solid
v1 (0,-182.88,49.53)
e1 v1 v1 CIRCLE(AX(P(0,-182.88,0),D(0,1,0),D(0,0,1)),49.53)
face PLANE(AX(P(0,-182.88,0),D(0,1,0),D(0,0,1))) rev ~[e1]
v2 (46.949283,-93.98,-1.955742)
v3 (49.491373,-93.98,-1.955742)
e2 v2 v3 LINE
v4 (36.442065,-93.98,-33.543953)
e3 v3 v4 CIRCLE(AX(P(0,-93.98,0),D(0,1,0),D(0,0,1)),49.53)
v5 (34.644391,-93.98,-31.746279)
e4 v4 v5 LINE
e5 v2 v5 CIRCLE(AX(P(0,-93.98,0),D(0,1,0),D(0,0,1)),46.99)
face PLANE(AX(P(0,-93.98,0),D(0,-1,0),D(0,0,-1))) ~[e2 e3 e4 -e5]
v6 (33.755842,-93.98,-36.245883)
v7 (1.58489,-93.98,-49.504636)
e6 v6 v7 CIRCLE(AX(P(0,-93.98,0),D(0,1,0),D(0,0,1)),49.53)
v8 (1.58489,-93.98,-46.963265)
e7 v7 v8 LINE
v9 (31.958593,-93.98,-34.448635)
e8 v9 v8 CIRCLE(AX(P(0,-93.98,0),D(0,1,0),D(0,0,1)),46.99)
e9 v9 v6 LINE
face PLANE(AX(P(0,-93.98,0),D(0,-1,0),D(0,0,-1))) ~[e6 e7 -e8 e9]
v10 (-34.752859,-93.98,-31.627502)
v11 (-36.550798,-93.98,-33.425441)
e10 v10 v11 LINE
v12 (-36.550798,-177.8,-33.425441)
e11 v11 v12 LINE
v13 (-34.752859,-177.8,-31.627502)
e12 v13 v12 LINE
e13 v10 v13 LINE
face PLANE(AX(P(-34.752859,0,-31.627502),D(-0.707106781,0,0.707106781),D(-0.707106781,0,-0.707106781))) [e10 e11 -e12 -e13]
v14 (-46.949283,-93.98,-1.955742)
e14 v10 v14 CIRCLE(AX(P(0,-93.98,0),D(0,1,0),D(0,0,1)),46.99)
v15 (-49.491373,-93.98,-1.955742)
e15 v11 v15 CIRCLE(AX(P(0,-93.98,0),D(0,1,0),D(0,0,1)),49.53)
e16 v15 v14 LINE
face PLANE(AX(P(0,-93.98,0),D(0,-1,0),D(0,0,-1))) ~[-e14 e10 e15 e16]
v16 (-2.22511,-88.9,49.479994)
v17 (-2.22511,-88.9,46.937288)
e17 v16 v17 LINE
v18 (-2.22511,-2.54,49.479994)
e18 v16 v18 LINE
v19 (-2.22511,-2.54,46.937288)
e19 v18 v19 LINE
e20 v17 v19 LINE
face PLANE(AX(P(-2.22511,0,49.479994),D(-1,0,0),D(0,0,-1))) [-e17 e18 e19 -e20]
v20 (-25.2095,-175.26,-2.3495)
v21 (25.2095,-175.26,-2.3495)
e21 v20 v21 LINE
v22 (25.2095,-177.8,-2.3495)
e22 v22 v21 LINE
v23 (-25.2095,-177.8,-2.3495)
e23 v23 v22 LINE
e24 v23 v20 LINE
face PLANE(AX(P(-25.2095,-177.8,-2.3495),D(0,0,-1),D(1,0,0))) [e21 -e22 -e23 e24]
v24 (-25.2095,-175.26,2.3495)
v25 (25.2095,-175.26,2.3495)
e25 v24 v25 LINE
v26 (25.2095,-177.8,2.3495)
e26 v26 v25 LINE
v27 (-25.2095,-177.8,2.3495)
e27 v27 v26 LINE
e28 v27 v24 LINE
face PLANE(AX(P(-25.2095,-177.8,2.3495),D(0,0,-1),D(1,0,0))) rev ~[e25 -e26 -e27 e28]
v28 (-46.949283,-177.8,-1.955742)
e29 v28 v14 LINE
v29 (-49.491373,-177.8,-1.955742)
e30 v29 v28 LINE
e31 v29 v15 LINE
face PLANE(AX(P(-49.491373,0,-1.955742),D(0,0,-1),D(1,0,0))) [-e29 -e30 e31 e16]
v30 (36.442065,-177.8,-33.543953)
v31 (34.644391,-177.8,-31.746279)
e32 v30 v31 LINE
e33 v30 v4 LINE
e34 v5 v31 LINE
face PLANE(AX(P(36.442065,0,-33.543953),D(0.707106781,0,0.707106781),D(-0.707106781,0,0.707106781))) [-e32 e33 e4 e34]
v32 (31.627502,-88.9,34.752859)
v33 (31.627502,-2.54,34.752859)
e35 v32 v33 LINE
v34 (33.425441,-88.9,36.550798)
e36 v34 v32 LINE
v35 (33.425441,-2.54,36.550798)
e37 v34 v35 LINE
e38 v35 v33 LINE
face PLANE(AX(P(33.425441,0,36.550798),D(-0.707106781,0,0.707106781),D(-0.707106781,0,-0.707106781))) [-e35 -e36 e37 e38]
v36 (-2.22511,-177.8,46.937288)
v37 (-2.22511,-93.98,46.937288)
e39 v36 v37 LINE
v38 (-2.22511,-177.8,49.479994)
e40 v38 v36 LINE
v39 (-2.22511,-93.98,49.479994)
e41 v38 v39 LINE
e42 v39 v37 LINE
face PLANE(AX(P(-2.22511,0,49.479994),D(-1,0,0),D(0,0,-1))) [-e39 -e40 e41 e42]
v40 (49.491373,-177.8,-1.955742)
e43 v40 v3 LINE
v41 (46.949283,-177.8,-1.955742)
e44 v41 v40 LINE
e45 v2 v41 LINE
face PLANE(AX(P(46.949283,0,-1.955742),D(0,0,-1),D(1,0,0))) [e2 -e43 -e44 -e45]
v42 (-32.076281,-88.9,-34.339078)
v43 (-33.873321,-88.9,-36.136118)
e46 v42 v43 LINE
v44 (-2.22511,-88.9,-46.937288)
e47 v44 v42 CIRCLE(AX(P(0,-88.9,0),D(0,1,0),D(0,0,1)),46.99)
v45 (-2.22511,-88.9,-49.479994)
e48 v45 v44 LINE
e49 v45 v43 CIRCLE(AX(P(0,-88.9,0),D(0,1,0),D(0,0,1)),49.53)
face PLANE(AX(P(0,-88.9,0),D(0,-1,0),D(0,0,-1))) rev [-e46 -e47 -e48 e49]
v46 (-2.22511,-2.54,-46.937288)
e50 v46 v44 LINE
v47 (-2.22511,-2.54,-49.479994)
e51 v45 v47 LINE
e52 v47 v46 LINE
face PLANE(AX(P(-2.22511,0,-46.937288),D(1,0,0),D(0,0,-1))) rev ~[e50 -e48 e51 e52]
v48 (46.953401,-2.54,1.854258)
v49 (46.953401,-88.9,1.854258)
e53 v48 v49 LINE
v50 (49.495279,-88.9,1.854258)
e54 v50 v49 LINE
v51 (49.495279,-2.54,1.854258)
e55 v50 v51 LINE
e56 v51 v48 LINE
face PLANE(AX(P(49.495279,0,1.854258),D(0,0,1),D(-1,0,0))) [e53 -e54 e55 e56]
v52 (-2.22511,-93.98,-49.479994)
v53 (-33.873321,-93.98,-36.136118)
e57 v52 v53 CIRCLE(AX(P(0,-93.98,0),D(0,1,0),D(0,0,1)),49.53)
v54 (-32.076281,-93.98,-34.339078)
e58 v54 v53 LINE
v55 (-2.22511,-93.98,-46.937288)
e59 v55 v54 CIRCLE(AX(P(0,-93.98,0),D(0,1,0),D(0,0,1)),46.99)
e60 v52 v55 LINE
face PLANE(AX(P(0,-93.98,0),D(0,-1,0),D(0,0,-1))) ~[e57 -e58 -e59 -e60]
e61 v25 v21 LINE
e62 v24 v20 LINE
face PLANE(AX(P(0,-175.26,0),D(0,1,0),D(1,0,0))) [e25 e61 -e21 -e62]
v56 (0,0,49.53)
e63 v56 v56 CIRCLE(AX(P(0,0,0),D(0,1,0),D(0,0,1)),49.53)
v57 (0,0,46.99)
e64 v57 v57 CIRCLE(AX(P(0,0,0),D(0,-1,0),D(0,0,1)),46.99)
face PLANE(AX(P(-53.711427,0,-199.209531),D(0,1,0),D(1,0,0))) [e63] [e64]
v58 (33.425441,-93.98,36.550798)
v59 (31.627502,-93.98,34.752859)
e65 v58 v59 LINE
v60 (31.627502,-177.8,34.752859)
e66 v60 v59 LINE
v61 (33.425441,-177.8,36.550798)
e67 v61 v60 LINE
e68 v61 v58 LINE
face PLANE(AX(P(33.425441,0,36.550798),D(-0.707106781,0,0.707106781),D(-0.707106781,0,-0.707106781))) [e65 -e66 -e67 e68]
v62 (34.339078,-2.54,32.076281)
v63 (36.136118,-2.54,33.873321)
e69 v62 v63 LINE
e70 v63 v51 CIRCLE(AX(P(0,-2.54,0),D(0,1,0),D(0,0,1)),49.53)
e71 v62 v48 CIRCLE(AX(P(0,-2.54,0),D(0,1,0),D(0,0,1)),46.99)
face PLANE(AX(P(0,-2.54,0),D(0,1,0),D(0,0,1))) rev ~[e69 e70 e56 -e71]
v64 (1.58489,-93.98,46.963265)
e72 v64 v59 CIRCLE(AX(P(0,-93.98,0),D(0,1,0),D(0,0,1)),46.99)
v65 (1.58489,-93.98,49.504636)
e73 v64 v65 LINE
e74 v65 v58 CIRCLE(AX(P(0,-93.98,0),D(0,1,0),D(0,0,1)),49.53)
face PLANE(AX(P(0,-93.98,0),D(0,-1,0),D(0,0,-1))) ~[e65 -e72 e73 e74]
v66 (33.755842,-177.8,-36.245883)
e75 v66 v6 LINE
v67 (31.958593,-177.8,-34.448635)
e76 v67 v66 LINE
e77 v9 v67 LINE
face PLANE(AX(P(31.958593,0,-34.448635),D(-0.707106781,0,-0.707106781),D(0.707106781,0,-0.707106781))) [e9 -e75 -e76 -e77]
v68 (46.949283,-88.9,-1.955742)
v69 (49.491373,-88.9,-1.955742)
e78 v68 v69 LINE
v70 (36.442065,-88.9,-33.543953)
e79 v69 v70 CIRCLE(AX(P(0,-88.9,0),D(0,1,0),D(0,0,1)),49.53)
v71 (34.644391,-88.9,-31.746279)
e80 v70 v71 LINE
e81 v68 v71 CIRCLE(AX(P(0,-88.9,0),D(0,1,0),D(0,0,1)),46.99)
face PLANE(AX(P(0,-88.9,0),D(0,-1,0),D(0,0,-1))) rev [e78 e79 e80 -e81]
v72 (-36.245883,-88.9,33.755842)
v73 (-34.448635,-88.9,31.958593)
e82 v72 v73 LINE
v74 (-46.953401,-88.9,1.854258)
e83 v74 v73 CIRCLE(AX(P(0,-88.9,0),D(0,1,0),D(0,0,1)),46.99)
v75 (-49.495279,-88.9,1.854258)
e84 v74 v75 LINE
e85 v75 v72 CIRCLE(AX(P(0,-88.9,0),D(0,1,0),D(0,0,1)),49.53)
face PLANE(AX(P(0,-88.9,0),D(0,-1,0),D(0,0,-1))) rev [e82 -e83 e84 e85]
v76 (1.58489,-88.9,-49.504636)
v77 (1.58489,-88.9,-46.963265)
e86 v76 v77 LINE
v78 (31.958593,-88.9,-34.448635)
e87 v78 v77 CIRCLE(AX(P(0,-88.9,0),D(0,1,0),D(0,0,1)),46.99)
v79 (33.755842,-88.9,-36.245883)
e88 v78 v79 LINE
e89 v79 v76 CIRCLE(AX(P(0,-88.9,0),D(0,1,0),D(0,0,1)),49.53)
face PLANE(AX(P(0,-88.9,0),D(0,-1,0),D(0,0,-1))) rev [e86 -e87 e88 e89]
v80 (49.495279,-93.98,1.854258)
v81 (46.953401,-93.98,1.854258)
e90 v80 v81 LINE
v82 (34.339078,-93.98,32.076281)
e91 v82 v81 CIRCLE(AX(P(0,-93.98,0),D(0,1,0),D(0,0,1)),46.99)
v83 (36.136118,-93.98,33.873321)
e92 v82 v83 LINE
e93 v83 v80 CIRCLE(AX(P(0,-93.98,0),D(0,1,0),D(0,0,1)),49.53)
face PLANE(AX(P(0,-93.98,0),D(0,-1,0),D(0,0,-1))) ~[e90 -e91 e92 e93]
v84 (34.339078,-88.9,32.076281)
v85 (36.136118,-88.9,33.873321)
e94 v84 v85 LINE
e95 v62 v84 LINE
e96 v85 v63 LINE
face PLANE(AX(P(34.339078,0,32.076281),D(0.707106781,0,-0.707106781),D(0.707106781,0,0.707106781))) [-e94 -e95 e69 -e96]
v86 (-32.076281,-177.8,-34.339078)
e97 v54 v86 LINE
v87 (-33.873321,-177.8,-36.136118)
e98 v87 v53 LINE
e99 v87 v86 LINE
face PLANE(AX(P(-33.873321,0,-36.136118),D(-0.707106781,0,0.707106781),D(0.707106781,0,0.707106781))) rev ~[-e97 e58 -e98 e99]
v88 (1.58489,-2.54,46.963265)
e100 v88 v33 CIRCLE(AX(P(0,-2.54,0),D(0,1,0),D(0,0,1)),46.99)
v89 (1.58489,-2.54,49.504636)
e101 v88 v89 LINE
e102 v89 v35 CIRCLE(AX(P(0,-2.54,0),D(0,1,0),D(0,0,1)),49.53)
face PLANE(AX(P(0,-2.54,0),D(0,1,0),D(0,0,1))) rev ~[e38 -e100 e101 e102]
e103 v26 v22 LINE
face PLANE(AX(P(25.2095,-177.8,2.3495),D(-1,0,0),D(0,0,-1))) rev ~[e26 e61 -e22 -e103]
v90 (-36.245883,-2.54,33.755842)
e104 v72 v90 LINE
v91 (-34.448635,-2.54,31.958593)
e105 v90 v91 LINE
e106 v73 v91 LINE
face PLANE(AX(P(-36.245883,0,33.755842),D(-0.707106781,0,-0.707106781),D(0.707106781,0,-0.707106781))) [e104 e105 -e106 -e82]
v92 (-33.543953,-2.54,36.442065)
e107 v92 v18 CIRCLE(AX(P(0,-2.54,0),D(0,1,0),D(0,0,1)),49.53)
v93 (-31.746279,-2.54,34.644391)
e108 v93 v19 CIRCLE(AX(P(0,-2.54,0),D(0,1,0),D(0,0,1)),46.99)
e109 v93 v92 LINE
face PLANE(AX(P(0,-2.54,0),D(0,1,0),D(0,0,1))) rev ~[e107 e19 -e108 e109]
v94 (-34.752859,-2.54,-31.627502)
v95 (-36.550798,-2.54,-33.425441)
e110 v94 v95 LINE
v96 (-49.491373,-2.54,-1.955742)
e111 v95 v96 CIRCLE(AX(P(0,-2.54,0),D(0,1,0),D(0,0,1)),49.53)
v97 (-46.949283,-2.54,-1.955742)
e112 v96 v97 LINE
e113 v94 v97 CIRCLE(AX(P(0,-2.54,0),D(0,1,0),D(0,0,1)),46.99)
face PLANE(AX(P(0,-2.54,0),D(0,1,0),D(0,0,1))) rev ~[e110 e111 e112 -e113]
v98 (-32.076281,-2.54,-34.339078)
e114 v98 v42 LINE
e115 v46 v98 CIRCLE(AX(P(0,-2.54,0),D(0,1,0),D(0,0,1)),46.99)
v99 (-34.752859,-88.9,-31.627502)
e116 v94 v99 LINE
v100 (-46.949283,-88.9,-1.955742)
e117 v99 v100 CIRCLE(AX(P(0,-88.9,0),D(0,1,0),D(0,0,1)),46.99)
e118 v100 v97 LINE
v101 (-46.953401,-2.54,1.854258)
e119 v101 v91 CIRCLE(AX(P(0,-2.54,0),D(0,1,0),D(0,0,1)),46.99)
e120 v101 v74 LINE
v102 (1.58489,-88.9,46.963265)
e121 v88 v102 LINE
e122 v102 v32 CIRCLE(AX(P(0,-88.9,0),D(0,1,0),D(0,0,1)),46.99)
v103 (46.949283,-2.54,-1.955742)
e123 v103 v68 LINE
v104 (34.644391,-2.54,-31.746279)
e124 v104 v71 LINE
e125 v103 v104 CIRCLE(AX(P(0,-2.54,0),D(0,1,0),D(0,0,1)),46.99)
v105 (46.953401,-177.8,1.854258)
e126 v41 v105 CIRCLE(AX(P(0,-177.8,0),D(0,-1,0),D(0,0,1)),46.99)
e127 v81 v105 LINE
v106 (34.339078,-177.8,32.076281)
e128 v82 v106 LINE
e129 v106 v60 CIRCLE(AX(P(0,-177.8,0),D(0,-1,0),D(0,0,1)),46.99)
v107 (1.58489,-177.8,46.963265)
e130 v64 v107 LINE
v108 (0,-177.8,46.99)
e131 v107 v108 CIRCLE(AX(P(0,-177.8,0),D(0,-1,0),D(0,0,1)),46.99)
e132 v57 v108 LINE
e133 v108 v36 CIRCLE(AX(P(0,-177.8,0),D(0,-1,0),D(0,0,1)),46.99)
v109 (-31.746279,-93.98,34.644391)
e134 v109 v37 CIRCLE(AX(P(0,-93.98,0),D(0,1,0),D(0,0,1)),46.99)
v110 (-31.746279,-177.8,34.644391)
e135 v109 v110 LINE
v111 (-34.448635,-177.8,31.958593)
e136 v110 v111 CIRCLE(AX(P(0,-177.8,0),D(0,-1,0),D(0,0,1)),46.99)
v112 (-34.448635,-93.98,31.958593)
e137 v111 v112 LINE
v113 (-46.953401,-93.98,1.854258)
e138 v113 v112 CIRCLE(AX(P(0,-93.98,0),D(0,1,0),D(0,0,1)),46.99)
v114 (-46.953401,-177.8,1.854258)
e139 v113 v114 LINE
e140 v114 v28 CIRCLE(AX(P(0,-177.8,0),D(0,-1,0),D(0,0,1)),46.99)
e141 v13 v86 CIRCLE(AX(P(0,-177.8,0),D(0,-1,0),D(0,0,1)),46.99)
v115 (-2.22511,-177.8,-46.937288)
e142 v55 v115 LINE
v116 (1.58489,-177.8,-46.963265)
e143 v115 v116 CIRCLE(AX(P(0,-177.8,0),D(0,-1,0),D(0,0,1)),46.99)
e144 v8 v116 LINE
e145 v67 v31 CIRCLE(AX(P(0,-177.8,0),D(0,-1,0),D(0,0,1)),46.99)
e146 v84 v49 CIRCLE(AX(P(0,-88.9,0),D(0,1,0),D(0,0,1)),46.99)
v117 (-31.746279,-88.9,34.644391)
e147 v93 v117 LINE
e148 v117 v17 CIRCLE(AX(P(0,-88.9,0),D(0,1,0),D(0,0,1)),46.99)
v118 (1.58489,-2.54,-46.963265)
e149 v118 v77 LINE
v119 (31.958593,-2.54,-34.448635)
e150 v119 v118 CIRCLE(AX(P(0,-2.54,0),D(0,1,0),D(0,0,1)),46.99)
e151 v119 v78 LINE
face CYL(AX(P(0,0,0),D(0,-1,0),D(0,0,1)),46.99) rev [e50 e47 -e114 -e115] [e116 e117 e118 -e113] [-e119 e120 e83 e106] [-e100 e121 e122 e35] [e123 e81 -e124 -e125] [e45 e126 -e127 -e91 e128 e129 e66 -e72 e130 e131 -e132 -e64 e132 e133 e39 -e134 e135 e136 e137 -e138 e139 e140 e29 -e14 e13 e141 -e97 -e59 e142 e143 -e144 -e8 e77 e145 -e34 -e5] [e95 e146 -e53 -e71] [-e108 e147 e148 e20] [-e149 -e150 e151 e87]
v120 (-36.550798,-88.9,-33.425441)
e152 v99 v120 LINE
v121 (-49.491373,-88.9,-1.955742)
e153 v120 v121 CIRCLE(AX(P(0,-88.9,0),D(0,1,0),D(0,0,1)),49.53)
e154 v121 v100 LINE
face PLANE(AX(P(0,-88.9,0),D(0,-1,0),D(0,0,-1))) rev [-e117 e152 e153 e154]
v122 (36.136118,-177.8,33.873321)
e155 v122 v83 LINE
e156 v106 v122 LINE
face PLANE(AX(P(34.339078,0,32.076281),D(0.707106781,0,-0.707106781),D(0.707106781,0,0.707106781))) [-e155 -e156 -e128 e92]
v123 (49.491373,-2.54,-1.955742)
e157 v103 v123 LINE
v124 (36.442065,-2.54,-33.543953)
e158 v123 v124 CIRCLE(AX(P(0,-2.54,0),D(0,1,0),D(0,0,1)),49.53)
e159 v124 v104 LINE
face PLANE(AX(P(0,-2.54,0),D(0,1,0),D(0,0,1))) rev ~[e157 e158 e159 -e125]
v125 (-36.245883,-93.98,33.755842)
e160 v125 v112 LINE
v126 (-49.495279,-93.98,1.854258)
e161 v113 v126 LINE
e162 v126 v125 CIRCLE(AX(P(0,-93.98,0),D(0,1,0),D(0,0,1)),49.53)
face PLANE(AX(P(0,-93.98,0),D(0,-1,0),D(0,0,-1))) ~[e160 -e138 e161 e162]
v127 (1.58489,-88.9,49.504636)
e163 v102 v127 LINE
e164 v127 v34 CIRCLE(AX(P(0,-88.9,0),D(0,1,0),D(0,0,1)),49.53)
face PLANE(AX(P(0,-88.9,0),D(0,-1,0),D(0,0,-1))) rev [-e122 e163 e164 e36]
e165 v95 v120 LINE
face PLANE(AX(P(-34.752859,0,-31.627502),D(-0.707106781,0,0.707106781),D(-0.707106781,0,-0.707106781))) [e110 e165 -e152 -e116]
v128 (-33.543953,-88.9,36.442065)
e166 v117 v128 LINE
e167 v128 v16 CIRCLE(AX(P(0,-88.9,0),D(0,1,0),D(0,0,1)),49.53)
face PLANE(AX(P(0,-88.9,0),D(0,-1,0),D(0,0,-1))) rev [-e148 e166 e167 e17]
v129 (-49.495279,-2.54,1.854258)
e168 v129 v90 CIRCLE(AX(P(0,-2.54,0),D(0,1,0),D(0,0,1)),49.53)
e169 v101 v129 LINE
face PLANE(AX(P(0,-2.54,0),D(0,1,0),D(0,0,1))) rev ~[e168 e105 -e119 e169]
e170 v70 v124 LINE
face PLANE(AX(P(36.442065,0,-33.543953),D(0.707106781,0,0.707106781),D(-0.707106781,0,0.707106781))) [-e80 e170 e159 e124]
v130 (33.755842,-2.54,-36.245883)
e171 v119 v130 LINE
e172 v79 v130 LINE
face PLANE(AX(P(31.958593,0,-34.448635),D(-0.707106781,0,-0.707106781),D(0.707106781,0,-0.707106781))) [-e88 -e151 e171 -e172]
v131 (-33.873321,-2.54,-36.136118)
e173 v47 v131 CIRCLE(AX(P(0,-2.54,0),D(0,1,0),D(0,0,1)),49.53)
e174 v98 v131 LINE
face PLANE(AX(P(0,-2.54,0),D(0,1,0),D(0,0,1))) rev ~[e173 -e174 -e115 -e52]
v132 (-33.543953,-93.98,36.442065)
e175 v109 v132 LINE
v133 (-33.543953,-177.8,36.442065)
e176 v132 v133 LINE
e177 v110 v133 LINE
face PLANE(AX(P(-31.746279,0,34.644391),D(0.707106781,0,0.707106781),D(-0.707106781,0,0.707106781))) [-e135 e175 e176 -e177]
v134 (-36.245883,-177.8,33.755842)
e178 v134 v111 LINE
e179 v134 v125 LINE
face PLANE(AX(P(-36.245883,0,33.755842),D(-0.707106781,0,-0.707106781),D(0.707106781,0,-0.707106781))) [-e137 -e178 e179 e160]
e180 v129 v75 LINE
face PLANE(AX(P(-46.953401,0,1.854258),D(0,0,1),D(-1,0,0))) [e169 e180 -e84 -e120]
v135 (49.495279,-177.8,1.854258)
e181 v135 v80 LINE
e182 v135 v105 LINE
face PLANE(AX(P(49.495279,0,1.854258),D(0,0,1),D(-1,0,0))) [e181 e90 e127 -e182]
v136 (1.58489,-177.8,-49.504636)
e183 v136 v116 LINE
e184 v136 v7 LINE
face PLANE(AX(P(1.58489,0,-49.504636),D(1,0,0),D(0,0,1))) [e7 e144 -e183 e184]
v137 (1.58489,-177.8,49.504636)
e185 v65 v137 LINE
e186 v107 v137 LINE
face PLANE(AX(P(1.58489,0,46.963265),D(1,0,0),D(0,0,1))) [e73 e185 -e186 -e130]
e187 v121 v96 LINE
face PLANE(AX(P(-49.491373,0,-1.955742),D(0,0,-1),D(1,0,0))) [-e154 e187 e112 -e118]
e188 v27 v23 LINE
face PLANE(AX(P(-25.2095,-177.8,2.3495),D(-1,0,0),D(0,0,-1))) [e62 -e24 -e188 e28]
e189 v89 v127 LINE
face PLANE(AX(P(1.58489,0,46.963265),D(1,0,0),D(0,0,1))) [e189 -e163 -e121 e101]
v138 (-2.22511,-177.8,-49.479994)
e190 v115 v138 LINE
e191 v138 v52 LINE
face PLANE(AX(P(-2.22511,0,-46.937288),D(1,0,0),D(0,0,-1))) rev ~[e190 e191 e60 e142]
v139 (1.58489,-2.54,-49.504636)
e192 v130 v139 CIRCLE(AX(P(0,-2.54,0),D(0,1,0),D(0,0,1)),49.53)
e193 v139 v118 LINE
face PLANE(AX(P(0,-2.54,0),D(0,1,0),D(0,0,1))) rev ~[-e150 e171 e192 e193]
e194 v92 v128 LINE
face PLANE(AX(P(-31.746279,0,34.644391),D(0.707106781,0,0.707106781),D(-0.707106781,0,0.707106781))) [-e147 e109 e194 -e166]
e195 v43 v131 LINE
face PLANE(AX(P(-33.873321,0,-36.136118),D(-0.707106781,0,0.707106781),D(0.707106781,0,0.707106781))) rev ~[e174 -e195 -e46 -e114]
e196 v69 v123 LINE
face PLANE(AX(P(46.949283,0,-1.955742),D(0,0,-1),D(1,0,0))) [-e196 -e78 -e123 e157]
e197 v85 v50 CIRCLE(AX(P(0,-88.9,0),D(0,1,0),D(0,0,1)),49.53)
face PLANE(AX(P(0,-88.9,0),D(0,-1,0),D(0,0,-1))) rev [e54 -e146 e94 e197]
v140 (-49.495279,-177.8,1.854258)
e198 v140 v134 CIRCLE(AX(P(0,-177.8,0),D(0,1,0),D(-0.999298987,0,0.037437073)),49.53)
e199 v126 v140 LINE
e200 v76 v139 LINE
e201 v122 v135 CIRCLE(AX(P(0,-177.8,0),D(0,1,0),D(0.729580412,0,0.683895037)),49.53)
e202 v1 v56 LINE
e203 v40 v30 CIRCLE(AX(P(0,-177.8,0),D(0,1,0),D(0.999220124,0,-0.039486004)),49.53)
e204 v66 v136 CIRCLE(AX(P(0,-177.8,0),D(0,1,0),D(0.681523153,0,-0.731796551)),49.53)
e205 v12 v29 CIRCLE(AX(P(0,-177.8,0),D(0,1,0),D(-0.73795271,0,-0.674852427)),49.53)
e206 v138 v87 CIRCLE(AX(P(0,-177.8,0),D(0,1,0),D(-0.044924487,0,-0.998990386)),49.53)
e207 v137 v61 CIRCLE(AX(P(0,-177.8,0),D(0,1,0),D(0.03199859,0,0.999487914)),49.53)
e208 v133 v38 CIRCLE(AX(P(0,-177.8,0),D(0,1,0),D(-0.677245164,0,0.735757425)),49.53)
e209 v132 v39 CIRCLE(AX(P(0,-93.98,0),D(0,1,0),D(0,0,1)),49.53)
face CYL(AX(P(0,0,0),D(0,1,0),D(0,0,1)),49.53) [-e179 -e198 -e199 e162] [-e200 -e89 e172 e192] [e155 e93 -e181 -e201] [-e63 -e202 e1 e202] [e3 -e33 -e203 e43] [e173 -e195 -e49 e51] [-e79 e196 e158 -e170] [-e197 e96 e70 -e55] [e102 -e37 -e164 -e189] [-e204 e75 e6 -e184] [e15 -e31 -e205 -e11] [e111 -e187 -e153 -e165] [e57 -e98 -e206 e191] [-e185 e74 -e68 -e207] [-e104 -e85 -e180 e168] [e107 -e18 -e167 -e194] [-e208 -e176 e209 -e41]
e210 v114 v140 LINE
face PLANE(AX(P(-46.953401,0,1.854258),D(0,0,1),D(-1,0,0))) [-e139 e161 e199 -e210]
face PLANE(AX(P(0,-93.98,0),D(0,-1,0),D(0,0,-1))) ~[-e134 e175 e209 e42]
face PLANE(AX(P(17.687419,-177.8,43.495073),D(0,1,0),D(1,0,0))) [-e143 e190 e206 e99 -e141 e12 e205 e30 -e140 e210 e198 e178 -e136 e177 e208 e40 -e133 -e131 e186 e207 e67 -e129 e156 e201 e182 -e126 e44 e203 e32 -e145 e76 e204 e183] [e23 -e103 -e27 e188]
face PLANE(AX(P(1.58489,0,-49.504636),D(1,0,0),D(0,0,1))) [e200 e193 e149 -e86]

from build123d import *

# Parameters (mm, degrees)
SKETCH1_R               = 49.53
SKETCH1_R_2             = 46.99
BOSS_EXTRUDE1_DEPTH     = 182.88
CUT_EXTRUDE1_DEPTH      = 177.8
SKETCH3_R               = 49.53
SKETCH3_R_2             = 46.99
BOSS_EXTRUDE2_DEPTH     = 2.54
SKETCH4_R               = 49.53
SKETCH4_R_2             = 46.99
BOSS_EXTRUDE3_DEPTH     = 2.54
BOSS_EXTRUDE4_START     = -5.08
SKETCH5_R               = 49.53
BOSS_EXTRUDE4_DEPTH     = 5.08
SKETCH6_W               = 50.419
SKETCH6_H               = 4.699
BOSS_EXTRUDE5_DEPTH     = 2.54
SKETCH7_R               = 0.8255
BOSS_EXTRUDE6_DEPTH     = 2.54
CIRPATTERN2_COUNT       = 8
CUT_EXTRUDE2_DEPTH      = 199.209531052
CUT_EXTRUDE2_DEPTH_BACK = 199.209531052
SKETCH8_W               = 111.115562831
SKETCH8_H               = 193.581618433


with BuildPart() as part:
    # Sketch1 → Boss-Extrude1 (new, symmetric)
    with BuildSketch(Plane(origin=(0, 0, 0), x_dir=(1, 0, 0), z_dir=(0, 1, 0))):
        with Locations(Location((0, 0, 0), (0, 0, 270))):
            Circle(SKETCH1_R)
        with Locations(Location((0, 0, 0), (0, 0, 270))):
            Circle(SKETCH1_R_2, mode=Mode.SUBTRACT)
    extrude(amount=BOSS_EXTRUDE1_DEPTH, both=True)

    # Sketch2 → Cut-Extrude1 (cut, symmetric)
    with BuildSketch(Plane(origin=(0, 0, 0), x_dir=(1, 0, 0), z_dir=(0, 1, 0))):
        with BuildLine():
            Line((34.339077963, -32.07628134), (36.13611782, -33.873321197))
            ThreePointArc((36.13611782, -33.873321197), (45.710930003, -19.071753413), (49.49527883, -1.854258207))
            Line((49.49527883, -1.854258207), (46.953400585, -1.854258207))
            ThreePointArc((46.953400585, -1.854258207), (43.364264524, -18.099742051), (34.339077963, -32.07628134))
        make_face()
        with BuildLine():
            ThreePointArc((1.584890151, -49.504636381), (18.664975227, -45.878530924), (33.425440685, -36.550797734))
            Line((33.425440685, -36.550797734), (31.627502039, -34.752859088))
            ThreePointArc((31.627502039, -34.752859088), (17.692915235, -43.531837205), (1.584890151, -46.963264614))
            Line((1.584890151, -46.963264614), (1.584890151, -49.504636381))
        make_face()
        with BuildLine():
            ThreePointArc((-33.543952964, -36.442065248), (-19.03558139, -45.726005086), (-2.225109849, -49.479993797))
            Line((-2.225109849, -49.479993797), (-2.225109849, -46.937287801))
            ThreePointArc((-2.225109849, -46.937287801), (-18.063572268, -43.379343666), (-31.746279167, -34.644391451))
            Line((-31.746279167, -34.644391451), (-33.543952964, -36.442065248))
        make_face()
        with BuildLine():
            Line((46.949282998, 1.955741793), (49.491372723, 1.955741793))
            ThreePointArc((49.491372723, 1.955741793), (45.777644234, 18.911059948), (36.442065248, 33.543952964))
            Line((36.442065248, 33.543952964), (34.644391451, 31.746279167))
            ThreePointArc((34.644391451, 31.746279167), (43.430990742, 17.93903964), (46.949282998, 1.955741793))
        make_face()
        with BuildLine():
            ThreePointArc((-49.49527883, -1.854258207), (-45.741824116, -18.997537381), (-36.245883162, -33.755841773))
            Line((-36.245883162, -33.755841773), (-34.448634556, -31.958593167))
            ThreePointArc((-34.448634556, -31.958593167), (-43.39516767, -18.025524205), (-46.953400585, -1.854258207))
            Line((-46.953400585, -1.854258207), (-49.49527883, -1.854258207))
        make_face()
        with BuildLine():
            Line((31.958593167, 34.448634556), (33.755841773, 36.245883162))
            ThreePointArc((33.755841773, 36.245883162), (18.873008967, 45.79334485), (1.584890151, 49.504636381))
            Line((1.584890151, 49.504636381), (1.584890151, 46.963264614))
            ThreePointArc((1.584890151, 46.963264614), (17.900986276, 43.446689061), (31.958593167, 34.448634556))
        make_face()
        with BuildLine():
            ThreePointArc((-36.550797734, 33.425440685), (-45.80828813, 18.836709868), (-49.491372723, 1.955741793))
            Line((-49.491372723, 1.955741793), (-46.949282998, 1.955741793))
            ThreePointArc((-46.949282998, 1.955741793), (-43.461630715, 17.864678995), (-34.752859088, 31.627502039))
            Line((-34.752859088, 31.627502039), (-36.550797734, 33.425440685))
        make_face()
        with BuildLine():
            Line((-2.225109849, 46.937287801), (-2.225109849, 49.479993797))
            ThreePointArc((-2.225109849, 49.479993797), (-19.242893169, 45.63914945), (-33.873321197, 36.13611782))
            Line((-33.873321197, 36.13611782), (-32.07628134, 34.339077963))
            ThreePointArc((-32.07628134, 34.339077963), (-18.270880717, 43.292436035), (-2.225109849, 46.937287801))
        make_face()
    extrude(amount=CUT_EXTRUDE1_DEPTH, both=True, mode=Mode.SUBTRACT)

    # Sketch3 → Boss-Extrude2 (add, symmetric)
    with BuildSketch(Plane(origin=(0, 91.44, 0), x_dir=(1, 0, 0), z_dir=(0, 1, 0))):
        with Locations(Location((0, 0, 0), (0, 0, 270))):
            Circle(SKETCH3_R)
        with Locations(Location((0, 0, 0), (0, 0, 270))):
            Circle(SKETCH3_R_2, mode=Mode.SUBTRACT)
    boss_extrude2 = extrude(amount=BOSS_EXTRUDE2_DEPTH, both=True)

    # Mirror1: Boss-Extrude2 across plane
    add(boss_extrude2.mirror(Plane.ZX))

    # Sketch4 → Boss-Extrude3 (add, symmetric)
    with BuildSketch(Plane(origin=(0, 0, 0), x_dir=(1, 0, 0), z_dir=(0, 1, 0))):
        with Locations(Location((0, 0, 0), (0, 0, 270))):
            Circle(SKETCH4_R)
        with Locations(Location((0, 0, 0), (0, 0, 270))):
            Circle(SKETCH4_R_2, mode=Mode.SUBTRACT)
    extrude(amount=BOSS_EXTRUDE3_DEPTH, both=True)

    # Sketch5 → Boss-Extrude4 (add)
    with BuildSketch(Plane.XZ.offset(182.88).offset(BOSS_EXTRUDE4_START)):
        with Locations(Location((0, 0, 0), (0, 0, 90))):
            Circle(SKETCH5_R)
    extrude(amount=BOSS_EXTRUDE4_DEPTH)

    # Sketch6 → Boss-Extrude5 (add)
    with BuildSketch(Plane(origin=(0, -177.8, 0), x_dir=(1, 0, 0), z_dir=(0, 1, 0))):
        Rectangle(SKETCH6_W, SKETCH6_H)
    extrude(amount=BOSS_EXTRUDE5_DEPTH)

    # Sketch7 → Boss-Extrude6 (add)
    with BuildSketch(Plane(origin=(0, 182.88, 0), x_dir=(1, 0, 0), z_dir=(0, 1, 0))):
        with Locations(Location((48.26, 0, 0), (0, 0, 270))):
            Circle(SKETCH7_R)
    boss_extrude6 = extrude(amount=BOSS_EXTRUDE6_DEPTH)

    # CirPattern2: Boss-Extrude6 ×8 about axis
    cirpattern2_axis = Axis((0, 0, 0), (0, 1, 0))
    for i in range(1, CIRPATTERN2_COUNT):
        add(boss_extrude6.rotate(cirpattern2_axis, i * 360 / CIRPATTERN2_COUNT))

    # Sketch8 → Cut-Extrude2 (cut, two sides: drawn at the far end of the back side and taken through both)
    with BuildSketch(Plane.XY.offset(-CUT_EXTRUDE2_DEPTH_BACK)):
        with Locations((1.84635432, 96.790809217)):
            Rectangle(SKETCH8_W, SKETCH8_H)
    extrude(amount=CUT_EXTRUDE2_DEPTH + CUT_EXTRUDE2_DEPTH_BACK, mode=Mode.SUBTRACT)


solid = part.part
